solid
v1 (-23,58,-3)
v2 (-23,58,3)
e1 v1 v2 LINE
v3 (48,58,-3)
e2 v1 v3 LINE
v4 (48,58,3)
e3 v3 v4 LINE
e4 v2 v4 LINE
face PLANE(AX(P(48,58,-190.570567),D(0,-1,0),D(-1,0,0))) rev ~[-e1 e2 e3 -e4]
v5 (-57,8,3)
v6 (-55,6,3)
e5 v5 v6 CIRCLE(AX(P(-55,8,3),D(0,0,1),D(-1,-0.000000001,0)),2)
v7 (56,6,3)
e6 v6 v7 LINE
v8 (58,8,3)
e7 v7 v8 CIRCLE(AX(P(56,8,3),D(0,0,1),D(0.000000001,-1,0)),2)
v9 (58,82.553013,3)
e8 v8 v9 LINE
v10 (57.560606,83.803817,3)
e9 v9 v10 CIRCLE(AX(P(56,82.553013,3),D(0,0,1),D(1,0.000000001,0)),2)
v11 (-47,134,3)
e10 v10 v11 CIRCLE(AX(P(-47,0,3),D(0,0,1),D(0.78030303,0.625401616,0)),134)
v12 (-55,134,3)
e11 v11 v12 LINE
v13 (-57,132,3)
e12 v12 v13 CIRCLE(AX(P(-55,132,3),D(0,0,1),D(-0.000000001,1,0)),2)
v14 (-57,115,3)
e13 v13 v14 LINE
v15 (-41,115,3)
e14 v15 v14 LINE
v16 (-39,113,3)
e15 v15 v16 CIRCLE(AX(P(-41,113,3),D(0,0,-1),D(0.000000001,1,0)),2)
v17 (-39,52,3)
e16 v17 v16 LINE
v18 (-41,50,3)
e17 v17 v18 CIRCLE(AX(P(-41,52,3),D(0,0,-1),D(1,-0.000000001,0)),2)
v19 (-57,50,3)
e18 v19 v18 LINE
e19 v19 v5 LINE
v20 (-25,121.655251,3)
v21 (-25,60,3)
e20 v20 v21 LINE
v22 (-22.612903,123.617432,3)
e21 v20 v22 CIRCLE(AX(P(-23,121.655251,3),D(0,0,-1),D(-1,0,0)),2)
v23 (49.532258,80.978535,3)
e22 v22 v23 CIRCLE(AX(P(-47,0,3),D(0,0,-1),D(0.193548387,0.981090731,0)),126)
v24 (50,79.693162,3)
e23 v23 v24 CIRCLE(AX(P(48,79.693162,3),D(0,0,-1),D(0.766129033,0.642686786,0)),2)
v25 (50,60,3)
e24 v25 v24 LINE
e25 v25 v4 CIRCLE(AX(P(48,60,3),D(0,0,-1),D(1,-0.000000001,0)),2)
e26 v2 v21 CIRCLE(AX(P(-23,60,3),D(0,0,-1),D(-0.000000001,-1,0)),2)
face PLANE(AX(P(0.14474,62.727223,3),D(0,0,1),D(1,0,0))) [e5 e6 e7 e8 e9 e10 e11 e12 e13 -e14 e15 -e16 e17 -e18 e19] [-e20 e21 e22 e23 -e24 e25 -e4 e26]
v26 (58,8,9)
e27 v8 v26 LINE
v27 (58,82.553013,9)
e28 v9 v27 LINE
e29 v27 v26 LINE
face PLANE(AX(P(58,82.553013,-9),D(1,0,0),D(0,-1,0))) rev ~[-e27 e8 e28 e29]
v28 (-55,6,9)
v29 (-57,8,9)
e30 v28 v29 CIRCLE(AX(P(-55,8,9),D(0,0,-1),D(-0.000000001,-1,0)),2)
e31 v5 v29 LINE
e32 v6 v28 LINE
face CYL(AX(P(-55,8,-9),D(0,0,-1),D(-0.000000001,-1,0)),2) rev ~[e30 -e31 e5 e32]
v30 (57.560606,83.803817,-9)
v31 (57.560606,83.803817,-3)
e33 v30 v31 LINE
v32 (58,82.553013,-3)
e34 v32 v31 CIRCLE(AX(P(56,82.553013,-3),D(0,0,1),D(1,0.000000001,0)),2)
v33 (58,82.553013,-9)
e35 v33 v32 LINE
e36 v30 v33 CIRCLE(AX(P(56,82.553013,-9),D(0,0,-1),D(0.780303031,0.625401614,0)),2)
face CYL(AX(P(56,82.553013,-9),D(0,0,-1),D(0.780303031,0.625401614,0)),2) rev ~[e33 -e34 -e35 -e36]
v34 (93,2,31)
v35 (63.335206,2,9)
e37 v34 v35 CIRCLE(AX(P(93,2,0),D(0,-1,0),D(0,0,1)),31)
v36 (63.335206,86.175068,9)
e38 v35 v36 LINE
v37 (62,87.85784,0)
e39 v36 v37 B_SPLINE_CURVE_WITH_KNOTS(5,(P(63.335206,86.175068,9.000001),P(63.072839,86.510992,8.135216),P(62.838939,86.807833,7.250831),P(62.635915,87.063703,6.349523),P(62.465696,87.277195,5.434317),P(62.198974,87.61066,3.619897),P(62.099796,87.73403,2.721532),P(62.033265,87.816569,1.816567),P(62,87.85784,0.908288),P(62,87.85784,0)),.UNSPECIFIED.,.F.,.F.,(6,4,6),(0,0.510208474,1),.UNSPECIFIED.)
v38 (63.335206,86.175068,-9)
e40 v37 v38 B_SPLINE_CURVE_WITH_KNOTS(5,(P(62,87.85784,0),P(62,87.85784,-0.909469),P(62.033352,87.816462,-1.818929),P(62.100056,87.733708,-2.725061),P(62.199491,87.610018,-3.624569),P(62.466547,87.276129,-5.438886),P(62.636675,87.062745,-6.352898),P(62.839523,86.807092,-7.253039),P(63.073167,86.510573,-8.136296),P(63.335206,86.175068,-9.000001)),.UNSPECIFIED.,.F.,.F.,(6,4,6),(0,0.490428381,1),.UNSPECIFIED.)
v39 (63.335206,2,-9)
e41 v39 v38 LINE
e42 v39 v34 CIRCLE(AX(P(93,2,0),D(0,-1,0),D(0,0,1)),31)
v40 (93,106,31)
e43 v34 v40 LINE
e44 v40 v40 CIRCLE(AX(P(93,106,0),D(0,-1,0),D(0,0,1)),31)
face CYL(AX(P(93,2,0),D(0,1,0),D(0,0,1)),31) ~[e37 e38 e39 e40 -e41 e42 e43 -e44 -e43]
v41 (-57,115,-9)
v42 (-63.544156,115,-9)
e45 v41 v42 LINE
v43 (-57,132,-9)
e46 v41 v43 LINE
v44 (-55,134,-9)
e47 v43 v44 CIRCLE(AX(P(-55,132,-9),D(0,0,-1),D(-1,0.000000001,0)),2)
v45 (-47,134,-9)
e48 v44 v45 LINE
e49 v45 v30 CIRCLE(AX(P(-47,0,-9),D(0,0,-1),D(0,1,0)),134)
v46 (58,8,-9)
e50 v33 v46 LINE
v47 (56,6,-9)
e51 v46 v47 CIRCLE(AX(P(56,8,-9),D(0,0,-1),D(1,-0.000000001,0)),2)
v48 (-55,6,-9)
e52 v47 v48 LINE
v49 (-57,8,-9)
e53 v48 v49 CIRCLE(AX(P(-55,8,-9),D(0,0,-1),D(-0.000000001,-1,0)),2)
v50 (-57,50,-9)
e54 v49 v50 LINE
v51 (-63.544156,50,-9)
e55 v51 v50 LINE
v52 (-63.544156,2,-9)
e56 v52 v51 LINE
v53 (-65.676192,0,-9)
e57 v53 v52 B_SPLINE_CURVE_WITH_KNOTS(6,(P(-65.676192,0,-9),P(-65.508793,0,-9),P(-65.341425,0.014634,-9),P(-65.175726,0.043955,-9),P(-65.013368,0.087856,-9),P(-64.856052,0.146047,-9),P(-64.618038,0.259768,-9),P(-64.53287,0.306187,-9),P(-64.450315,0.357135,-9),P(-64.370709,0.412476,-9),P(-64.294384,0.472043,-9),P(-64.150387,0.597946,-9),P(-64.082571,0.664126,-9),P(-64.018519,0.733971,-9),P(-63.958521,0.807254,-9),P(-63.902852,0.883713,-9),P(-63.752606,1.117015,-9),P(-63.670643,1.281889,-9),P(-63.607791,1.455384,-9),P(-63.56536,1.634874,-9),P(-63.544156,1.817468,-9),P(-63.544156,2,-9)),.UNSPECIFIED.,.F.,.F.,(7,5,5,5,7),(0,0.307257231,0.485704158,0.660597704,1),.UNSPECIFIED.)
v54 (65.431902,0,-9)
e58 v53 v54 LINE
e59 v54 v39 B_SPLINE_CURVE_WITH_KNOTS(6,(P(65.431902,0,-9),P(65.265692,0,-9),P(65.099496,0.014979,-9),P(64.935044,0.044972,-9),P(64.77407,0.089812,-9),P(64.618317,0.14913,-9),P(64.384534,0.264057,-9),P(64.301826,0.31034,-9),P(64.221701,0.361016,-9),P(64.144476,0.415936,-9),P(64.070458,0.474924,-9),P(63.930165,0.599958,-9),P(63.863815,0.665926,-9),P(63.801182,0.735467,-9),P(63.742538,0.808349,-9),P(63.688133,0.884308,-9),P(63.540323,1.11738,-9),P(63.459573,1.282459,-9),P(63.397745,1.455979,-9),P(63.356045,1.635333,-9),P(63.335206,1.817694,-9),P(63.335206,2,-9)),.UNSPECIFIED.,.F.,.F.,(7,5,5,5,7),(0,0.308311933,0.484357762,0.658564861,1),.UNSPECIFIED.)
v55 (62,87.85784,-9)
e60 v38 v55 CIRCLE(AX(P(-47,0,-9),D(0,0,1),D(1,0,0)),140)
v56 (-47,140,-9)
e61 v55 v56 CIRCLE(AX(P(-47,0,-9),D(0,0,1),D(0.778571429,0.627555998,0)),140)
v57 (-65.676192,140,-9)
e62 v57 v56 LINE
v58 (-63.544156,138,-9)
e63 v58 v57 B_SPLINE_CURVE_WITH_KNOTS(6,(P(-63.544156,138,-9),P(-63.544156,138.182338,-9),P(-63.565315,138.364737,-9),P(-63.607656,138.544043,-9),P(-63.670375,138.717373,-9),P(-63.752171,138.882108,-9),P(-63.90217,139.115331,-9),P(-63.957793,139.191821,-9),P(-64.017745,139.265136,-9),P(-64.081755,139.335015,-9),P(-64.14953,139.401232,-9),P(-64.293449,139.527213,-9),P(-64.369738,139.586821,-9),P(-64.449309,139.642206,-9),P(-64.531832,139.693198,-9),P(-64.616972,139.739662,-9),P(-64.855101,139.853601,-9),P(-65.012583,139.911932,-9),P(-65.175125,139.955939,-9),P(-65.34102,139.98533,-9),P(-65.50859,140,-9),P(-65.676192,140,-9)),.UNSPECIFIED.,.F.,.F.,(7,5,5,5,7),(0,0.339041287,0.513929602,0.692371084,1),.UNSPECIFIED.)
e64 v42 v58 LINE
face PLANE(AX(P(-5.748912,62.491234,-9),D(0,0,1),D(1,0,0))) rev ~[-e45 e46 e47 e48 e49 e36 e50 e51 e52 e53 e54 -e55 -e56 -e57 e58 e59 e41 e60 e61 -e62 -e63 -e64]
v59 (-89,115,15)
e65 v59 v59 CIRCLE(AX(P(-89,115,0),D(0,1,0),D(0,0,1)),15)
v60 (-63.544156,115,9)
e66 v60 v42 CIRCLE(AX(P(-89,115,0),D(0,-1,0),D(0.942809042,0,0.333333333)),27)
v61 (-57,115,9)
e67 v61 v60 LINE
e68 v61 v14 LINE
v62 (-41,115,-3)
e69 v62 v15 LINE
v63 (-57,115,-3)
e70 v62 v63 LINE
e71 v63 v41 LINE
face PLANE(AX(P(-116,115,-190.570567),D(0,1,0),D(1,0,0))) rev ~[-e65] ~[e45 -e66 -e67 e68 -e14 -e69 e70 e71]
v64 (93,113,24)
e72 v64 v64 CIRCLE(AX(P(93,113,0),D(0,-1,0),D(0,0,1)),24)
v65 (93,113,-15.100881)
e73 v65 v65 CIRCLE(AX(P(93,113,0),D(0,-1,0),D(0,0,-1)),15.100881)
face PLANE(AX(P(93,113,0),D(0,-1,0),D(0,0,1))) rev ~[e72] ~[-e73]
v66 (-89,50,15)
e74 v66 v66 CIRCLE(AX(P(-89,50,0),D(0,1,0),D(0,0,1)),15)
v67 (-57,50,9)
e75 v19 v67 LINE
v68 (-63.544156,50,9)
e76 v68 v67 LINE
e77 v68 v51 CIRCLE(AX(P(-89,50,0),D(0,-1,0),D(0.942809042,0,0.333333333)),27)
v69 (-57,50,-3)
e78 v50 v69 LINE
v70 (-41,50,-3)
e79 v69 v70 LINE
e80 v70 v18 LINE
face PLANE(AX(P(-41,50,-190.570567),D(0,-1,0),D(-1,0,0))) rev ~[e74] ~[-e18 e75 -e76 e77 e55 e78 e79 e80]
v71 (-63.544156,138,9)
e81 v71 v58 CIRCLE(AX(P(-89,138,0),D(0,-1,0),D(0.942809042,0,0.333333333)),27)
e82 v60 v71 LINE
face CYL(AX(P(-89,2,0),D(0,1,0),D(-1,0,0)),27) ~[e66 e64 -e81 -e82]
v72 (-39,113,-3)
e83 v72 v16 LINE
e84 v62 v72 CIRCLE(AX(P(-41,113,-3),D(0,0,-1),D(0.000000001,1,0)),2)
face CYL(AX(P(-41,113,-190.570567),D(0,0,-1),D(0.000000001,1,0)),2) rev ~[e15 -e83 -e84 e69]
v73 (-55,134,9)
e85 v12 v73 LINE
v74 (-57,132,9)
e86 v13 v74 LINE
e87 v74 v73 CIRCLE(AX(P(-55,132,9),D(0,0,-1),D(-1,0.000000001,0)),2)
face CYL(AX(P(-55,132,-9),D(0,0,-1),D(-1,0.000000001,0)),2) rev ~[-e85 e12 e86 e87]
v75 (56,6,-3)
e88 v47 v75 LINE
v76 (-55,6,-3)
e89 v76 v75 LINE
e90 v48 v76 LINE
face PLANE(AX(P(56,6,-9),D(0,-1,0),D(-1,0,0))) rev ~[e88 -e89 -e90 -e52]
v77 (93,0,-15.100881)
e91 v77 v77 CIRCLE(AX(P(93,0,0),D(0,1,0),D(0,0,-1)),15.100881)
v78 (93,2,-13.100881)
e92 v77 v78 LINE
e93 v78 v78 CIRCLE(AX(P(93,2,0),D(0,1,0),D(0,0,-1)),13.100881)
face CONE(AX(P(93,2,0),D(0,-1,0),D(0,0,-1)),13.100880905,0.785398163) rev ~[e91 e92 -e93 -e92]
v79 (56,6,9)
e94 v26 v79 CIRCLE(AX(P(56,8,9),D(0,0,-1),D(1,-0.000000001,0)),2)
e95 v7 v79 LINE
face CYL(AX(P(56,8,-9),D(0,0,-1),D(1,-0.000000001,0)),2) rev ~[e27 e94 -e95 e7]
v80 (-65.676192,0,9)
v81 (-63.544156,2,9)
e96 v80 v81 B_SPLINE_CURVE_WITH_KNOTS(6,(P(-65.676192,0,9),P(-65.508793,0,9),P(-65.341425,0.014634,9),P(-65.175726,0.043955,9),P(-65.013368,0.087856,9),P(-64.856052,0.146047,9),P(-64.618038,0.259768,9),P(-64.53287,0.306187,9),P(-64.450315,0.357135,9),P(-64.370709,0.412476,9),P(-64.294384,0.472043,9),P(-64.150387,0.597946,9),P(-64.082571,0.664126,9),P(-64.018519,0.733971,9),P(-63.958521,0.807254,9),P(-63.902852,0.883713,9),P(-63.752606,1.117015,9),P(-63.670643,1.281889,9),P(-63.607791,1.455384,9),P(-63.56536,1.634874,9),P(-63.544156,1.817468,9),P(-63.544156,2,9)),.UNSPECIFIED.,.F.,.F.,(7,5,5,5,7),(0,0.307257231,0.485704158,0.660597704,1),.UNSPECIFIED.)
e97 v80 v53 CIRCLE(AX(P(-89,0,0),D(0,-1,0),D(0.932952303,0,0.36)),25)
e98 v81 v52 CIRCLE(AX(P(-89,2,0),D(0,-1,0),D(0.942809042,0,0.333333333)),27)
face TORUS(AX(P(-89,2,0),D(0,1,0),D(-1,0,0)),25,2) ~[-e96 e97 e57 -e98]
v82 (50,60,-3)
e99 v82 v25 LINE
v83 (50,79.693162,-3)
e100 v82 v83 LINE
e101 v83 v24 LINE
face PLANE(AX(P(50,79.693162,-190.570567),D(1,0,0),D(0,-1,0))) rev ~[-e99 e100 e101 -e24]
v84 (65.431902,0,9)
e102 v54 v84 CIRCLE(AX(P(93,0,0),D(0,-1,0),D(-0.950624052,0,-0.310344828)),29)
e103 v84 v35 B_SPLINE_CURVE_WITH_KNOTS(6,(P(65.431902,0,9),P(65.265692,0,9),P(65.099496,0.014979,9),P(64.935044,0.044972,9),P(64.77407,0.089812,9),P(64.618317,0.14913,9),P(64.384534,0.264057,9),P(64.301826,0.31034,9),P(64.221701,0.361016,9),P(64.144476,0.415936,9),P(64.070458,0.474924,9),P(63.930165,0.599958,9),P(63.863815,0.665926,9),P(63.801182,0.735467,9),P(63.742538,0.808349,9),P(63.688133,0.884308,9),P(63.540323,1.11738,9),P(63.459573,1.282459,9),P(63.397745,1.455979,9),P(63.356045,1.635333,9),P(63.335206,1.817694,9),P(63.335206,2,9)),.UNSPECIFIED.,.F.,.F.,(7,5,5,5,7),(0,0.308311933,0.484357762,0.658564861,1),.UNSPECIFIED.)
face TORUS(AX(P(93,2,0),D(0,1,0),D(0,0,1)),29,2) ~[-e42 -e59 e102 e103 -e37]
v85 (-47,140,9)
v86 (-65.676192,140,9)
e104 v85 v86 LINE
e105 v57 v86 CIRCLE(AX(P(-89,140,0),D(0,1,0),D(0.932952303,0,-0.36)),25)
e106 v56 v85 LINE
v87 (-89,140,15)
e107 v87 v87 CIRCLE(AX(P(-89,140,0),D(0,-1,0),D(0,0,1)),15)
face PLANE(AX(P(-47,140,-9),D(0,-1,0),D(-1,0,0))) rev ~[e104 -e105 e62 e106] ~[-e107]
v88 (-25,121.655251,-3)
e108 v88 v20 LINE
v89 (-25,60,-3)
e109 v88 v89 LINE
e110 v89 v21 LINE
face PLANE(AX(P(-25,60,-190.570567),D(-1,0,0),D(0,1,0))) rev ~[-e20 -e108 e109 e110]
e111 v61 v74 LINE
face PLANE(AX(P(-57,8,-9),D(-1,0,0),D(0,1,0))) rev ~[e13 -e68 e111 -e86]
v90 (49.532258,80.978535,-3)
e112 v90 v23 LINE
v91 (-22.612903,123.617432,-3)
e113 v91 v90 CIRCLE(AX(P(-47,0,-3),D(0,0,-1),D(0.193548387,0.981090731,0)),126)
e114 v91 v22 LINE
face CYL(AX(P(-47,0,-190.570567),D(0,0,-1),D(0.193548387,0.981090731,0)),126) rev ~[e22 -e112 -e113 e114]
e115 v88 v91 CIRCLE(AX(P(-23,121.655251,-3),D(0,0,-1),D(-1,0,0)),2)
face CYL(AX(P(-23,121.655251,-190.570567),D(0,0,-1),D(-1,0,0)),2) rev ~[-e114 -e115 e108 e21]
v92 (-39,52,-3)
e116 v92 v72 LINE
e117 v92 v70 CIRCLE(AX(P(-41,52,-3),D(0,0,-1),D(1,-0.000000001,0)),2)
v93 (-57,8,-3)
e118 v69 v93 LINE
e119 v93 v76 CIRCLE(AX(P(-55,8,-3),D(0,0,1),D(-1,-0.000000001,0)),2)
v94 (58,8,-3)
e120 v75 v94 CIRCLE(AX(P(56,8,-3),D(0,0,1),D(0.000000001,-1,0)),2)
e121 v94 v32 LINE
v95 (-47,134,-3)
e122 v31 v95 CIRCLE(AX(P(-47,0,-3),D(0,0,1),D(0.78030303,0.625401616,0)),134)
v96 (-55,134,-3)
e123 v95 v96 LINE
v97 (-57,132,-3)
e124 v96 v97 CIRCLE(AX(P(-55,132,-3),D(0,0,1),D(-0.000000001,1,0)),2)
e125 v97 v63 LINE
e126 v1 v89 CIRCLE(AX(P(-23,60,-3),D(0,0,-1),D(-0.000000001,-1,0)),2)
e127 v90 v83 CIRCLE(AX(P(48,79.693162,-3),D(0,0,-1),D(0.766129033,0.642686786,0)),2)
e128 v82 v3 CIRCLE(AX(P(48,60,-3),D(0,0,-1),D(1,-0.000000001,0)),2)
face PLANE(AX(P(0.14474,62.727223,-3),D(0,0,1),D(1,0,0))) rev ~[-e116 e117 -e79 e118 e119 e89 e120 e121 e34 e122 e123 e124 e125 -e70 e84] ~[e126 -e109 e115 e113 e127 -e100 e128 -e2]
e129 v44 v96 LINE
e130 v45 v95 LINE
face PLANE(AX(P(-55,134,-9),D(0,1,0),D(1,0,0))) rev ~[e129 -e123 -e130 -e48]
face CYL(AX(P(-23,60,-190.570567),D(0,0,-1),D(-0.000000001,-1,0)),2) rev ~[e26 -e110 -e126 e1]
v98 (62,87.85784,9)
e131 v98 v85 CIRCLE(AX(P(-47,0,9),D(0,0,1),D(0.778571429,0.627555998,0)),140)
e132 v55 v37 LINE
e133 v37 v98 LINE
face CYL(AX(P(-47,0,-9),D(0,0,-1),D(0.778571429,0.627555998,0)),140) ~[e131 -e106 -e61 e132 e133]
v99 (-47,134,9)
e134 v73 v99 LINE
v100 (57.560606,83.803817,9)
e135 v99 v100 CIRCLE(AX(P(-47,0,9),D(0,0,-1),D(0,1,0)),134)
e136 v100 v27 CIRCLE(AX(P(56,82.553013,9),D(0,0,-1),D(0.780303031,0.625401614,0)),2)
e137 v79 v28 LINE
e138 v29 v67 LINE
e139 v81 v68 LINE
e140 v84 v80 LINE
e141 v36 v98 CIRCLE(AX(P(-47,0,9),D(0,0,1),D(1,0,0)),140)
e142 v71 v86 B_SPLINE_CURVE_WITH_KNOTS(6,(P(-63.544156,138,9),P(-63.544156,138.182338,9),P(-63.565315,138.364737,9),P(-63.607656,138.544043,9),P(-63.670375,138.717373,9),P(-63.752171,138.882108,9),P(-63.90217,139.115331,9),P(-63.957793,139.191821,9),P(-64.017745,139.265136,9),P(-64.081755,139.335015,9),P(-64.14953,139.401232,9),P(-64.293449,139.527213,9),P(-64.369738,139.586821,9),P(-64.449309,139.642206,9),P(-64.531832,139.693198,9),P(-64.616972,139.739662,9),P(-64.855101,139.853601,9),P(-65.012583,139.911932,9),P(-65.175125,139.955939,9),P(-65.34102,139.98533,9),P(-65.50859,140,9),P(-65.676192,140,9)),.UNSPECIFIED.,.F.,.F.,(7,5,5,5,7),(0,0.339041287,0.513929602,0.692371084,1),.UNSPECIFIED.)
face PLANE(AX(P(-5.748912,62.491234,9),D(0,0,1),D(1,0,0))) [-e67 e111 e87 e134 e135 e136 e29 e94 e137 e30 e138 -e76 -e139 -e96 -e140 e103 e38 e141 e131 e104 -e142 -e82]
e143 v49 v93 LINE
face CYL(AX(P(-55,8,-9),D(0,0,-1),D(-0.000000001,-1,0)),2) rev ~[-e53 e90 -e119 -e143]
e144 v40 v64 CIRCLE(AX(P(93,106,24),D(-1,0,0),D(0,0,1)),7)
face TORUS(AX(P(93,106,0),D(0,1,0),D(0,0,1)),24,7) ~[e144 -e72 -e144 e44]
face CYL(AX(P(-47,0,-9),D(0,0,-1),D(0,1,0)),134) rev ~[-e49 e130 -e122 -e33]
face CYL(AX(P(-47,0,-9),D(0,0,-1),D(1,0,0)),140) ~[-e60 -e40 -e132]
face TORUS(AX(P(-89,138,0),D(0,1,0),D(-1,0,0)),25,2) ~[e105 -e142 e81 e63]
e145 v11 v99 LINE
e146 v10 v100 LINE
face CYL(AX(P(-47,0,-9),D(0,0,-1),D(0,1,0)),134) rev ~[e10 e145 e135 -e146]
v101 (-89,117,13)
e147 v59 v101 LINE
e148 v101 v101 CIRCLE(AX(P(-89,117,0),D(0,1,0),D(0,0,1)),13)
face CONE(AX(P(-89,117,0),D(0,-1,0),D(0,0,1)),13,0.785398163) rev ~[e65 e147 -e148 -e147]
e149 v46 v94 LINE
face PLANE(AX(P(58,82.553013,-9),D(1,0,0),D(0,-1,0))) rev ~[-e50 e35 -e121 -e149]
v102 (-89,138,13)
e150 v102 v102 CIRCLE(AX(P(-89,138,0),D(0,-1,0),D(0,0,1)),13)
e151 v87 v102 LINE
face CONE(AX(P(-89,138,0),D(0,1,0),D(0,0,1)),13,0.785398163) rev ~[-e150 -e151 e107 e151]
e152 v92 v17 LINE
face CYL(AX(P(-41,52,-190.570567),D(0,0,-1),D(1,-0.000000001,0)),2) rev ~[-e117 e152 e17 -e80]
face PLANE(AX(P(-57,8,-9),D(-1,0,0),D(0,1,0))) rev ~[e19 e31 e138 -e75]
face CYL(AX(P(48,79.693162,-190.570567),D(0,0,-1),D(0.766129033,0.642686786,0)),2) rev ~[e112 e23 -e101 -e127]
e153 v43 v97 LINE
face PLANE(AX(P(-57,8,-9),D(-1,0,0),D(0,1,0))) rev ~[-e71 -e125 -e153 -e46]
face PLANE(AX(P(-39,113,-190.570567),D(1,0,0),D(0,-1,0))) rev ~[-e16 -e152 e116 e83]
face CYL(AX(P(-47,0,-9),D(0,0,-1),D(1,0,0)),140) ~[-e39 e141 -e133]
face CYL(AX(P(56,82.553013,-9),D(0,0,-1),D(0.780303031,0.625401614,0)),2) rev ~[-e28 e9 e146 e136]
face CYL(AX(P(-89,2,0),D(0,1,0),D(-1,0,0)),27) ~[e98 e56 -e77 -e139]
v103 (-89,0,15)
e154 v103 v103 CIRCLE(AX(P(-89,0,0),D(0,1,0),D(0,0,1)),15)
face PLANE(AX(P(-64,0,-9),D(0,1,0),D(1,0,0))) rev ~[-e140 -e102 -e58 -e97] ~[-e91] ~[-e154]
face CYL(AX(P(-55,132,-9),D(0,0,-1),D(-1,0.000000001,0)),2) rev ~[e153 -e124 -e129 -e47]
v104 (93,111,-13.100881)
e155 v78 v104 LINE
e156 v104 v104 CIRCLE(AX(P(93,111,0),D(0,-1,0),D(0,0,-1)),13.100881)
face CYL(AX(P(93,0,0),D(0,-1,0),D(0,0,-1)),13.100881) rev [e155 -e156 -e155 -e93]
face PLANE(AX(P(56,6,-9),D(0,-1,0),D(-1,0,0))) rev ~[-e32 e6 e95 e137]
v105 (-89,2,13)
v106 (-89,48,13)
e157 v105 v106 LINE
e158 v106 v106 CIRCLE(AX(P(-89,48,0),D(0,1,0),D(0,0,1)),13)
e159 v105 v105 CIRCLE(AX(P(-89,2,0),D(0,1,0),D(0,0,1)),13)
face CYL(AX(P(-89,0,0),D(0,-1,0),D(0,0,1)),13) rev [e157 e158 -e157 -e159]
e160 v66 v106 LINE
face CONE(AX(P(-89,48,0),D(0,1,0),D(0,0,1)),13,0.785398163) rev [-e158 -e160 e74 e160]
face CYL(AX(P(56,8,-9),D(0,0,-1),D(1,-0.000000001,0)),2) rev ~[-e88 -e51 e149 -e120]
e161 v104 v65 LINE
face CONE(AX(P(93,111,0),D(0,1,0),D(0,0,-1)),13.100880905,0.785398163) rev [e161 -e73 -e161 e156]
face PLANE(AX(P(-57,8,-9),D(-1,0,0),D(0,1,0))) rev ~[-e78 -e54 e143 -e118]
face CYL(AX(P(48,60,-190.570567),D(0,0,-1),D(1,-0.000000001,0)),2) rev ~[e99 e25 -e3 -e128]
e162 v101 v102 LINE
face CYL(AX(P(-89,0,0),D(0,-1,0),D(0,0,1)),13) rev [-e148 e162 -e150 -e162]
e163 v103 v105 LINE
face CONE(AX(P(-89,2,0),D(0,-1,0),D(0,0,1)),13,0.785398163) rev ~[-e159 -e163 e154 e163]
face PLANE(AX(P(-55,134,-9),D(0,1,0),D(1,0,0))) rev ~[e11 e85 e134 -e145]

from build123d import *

# Parameters (mm, degrees)
CUT_EXTRUDE_8_DEPTH      = 184.806963974
EXTRUDE_1_DEPTH          = 9
EXTRUDE_1_DEPTH_BACK     = 9
EXTRUDE_2_DEPTH          = 3
EXTRUDE_2_DEPTH_BACK     = 3
SKETCH_2_R               = 13
SKETCH_2_R_2             = 13.100880905
CUT_EXTRUDE_7_DEPTH      = 190.570567491
CUT_EXTRUDE_9_DEPTH      = 190.570567491
CUT_EXTRUDE_9_DEPTH_BACK = 190.570567491
CHAMFER_4_SIZE           = 2
CHAMFER_5_SIZE           = 2
CHAMFER_6_SIZE           = 2


with BuildPart() as part:
    # Эскиз1 → Повернуть1 (revolve)
    with BuildSketch(Plane.XY, mode=Mode.PRIVATE) as revolve_1_sk:
        with BuildLine():
            Line((-62, 2), (-62, 138))
            ThreePointArc((-62, 138), (-62.585786438, 139.414213562), (-64, 140))
            Line((-64, 140), (-89, 140))
            Line((-89, 140), (-89, 0))
            Line((-89, 0), (-64, 0))
            ThreePointArc((-64, 0), (-62.585786438, 0.585786438), (-62, 2))
        make_face()
    revolve(revolve_1_sk.sketch.rotate(Axis((-89, 140, 0), (0, -1, 0)), 180), axis=Axis((-89, 140, 0), (0, -1, 0)))

    # Эскиз5 → Вырез-Вытянуть8 (cut, through all)
    with BuildSketch(Plane.XY):
        with BuildLine():
            Line((-116, 115), (-41, 115))
            ThreePointArc((-41, 115), (-39.585786438, 114.414213562), (-39, 113))
            Line((-39, 113), (-39, 52))
            ThreePointArc((-39, 52), (-39.585786438, 50.585786438), (-41, 50))
            Line((-41, 50), (-116, 50))
            Line((-116, 50), (-116, 115))
        make_face()
        with BuildLine():
            Line((50, 79.693161564), (50, 60))
            ThreePointArc((50, 60), (49.414213562, 58.585786438), (48, 58))
            Line((48, 58), (-23, 58))
            ThreePointArc((-23, 58), (-24.414213562, 58.585786438), (-25, 60))
            Line((-25, 60), (-25, 121.655250606))
            ThreePointArc((-25, 121.655250606), (-24.27000127, 123.200273834), (-22.612903226, 123.617432067))
            ThreePointArc((-22.612903226, 123.617432067), (17.108435299, 108.471694573), (49.532258065, 80.978535137))
            ThreePointArc((49.532258065, 80.978535137), (49.87943025, 80.377078178), (50, 79.693161564))
        make_face()
    extrude(amount=-CUT_EXTRUDE_8_DEPTH, mode=Mode.SUBTRACT)



with BuildPart() as body_2:
    # Эскиз1<4> → Повернуть2 (revolve)
    with BuildSketch(Plane.XY, mode=Mode.PRIVATE) as revolve_2_sk:
        with BuildLine():
            Line((62, 2), (62, 106))
            ThreePointArc((62, 106), (64.050252532, 110.949747468), (69, 113))
            Line((69, 113), (93, 113))
            Line((93, 113), (93, 0))
            Line((93, 0), (64, 0))
            ThreePointArc((64, 0), (62.585786438, 0.585786438), (62, 2))
        make_face()
    revolve(revolve_2_sk.sketch.rotate(Axis((93, 113, 0), (0, -1, 0)), 270), axis=Axis((93, 113, 0), (0, -1, 0)))


with BuildPart() as part_1:
    add(part.part)

    add(body_2.part)  # Бобышка-Вытянуть1 merges body 2
    # Эскиз1<5> → Бобышка-Вытянуть1 (add, two sides: drawn at the far end of the back side and taken through both)
    # profile 1 of 3: a face of its own
    with BuildSketch(Plane.XY.offset(-EXTRUDE_1_DEPTH_BACK)):
        with BuildLine():
            ThreePointArc((-62, 2), (-62.585786438, 0.585786438), (-64, 0))
            Line((-64, 0), (-47, 0))
            Line((-47, 0), (64, 0))
            ThreePointArc((64, 0), (62.585786438, 0.585786438), (62, 2))
            Line((62, 2), (62, 87.857839718))
            ThreePointArc((62, 87.857839718), (13.414826158, 126.293502526), (-47, 140))
            Line((-47, 140), (-64, 140))
            ThreePointArc((-64, 140), (-62.585786438, 139.414213562), (-62, 138))
            Line((-62, 138), (-62, 2))
        make_face()
        with BuildLine():
            Line((56, 6), (-47, 6))
            Line((-47, 6), (-55, 6))
            ThreePointArc((-55, 6), (-56.414213562, 6.585786438), (-57, 8))
            Line((-57, 8), (-57, 132))
            ThreePointArc((-57, 132), (-56.414213562, 133.414213562), (-55, 134))
            Line((-55, 134), (-47, 134))
            ThreePointArc((-47, 134), (10.992622758, 120.800892818), (57.560606061, 83.803816502))
            ThreePointArc((57.560606061, 83.803816502), (57.886956825, 83.215881236), (58, 82.55301327))
            Line((58, 82.55301327), (58, 8))
            ThreePointArc((58, 8), (57.414213562, 6.585786438), (56, 6))
        make_face(mode=Mode.SUBTRACT)
    # profile 2 of 3: a face of its own
    with BuildSketch(Plane.XY.offset(-EXTRUDE_1_DEPTH_BACK)):
        with BuildLine():
            Line((-89, 0), (-64, 0))
            ThreePointArc((-64, 0), (-62.585786438, 0.585786438), (-62, 2))
            Line((-62, 2), (-62, 138))
            ThreePointArc((-62, 138), (-62.585786438, 139.414213562), (-64, 140))
            Line((-64, 140), (-89, 140))
            Line((-89, 140), (-89, 0))
        make_face()
    # profile 3 of 3: a face of its own
    with BuildSketch(Plane.XY.offset(-EXTRUDE_1_DEPTH_BACK)):
        with BuildLine():
            ThreePointArc((62, 2), (62.585786438, 0.585786438), (64, 0))
            Line((64, 0), (93, 0))
            ThreePointArc((93, 0), (85.022725317, 46.583258795), (62, 87.857839718))
            Line((62, 87.857839718), (62, 2))
        make_face()
    extrude(amount=EXTRUDE_1_DEPTH + EXTRUDE_1_DEPTH_BACK)

    # Эскиз1<6> → Бобышка-Вытянуть2 (add, two sides: drawn at the far end of the back side and taken through both)
    with BuildSketch(Plane.XY.offset(-EXTRUDE_2_DEPTH_BACK)):
        with BuildLine():
            Line((-47, 134), (-47, 6))
            Line((-47, 6), (56, 6))
            ThreePointArc((56, 6), (57.414213562, 6.585786438), (58, 8))
            Line((58, 8), (58, 82.55301327))
            ThreePointArc((58, 82.55301327), (57.886956825, 83.215881236), (57.560606061, 83.803816502))
            ThreePointArc((57.560606061, 83.803816502), (10.992622758, 120.800892818), (-47, 134))
        make_face()
        with BuildLine():
            Line((-55, 6), (-47, 6))
            Line((-47, 6), (-47, 134))
            Line((-47, 134), (-55, 134))
            ThreePointArc((-55, 134), (-56.414213562, 133.414213562), (-57, 132))
            Line((-57, 132), (-57, 8))
            ThreePointArc((-57, 8), (-56.414213562, 6.585786438), (-55, 6))
        make_face()
    extrude(amount=EXTRUDE_2_DEPTH + EXTRUDE_2_DEPTH_BACK)

    # Эскиз2 → Вырез-Вытянуть7 (cut, through all)
    with BuildSketch(Plane(origin=(0, 0, 0), x_dir=(1, 0, 0), z_dir=(0, 1, 0))):
        with Locations(Location((-89, 0, 0), (0, 0, 270))):
            Circle(SKETCH_2_R)
        with Locations(Location((93, 0, 0), (0, 0, 90))):
            Circle(SKETCH_2_R_2)
    extrude(amount=CUT_EXTRUDE_7_DEPTH, mode=Mode.SUBTRACT)

    # Эскиз5<2> → Вырез-Вытянуть9 (cut, two sides: drawn at the far end of the back side and taken through both)
    with BuildSketch(Plane.XY.offset(-CUT_EXTRUDE_9_DEPTH_BACK)):
        with BuildLine():
            Line((-116, 115), (-41, 115))
            ThreePointArc((-41, 115), (-39.585786438, 114.414213562), (-39, 113))
            Line((-39, 113), (-39, 52))
            ThreePointArc((-39, 52), (-39.585786438, 50.585786438), (-41, 50))
            Line((-41, 50), (-116, 50))
            Line((-116, 50), (-116, 115))
        make_face()
        with BuildLine():
            Line((50, 79.693161564), (50, 60))
            ThreePointArc((50, 60), (49.414213562, 58.585786438), (48, 58))
            Line((48, 58), (-23, 58))
            ThreePointArc((-23, 58), (-24.414213562, 58.585786438), (-25, 60))
            Line((-25, 60), (-25, 121.655250606))
            ThreePointArc((-25, 121.655250606), (-24.27000127, 123.200273834), (-22.612903226, 123.617432067))
            ThreePointArc((-22.612903226, 123.617432067), (17.108435299, 108.471694573), (49.532258065, 80.978535137))
            ThreePointArc((49.532258065, 80.978535137), (49.87943025, 80.377078178), (50, 79.693161564))
        make_face()
    extrude(amount=CUT_EXTRUDE_9_DEPTH + CUT_EXTRUDE_9_DEPTH_BACK, mode=Mode.SUBTRACT)

    # Фаска4
    chamfer_4_edges = [part_1.edges().sort_by_distance(p)[0] for p in [
        (93, 0, 13.100880905),
        (93, 113, 13.100880905),
    ]]
    chamfer(chamfer_4_edges, length=CHAMFER_4_SIZE)

    # Фаска5
    chamfer_5_edges = [part_1.edges().sort_by_distance(p)[0] for p in [
        (-89, 115, -13),
        (-89, 140, -13),
    ]]
    chamfer(chamfer_5_edges, length=CHAMFER_5_SIZE)

    # Фаска6
    chamfer_6_edges = [part_1.edges().sort_by_distance(p)[0] for p in [
        (-89, 0, -13),
        (-89, 50, -13),
    ]]
    chamfer(chamfer_6_edges, length=CHAMFER_6_SIZE)


solid = part_1.part
